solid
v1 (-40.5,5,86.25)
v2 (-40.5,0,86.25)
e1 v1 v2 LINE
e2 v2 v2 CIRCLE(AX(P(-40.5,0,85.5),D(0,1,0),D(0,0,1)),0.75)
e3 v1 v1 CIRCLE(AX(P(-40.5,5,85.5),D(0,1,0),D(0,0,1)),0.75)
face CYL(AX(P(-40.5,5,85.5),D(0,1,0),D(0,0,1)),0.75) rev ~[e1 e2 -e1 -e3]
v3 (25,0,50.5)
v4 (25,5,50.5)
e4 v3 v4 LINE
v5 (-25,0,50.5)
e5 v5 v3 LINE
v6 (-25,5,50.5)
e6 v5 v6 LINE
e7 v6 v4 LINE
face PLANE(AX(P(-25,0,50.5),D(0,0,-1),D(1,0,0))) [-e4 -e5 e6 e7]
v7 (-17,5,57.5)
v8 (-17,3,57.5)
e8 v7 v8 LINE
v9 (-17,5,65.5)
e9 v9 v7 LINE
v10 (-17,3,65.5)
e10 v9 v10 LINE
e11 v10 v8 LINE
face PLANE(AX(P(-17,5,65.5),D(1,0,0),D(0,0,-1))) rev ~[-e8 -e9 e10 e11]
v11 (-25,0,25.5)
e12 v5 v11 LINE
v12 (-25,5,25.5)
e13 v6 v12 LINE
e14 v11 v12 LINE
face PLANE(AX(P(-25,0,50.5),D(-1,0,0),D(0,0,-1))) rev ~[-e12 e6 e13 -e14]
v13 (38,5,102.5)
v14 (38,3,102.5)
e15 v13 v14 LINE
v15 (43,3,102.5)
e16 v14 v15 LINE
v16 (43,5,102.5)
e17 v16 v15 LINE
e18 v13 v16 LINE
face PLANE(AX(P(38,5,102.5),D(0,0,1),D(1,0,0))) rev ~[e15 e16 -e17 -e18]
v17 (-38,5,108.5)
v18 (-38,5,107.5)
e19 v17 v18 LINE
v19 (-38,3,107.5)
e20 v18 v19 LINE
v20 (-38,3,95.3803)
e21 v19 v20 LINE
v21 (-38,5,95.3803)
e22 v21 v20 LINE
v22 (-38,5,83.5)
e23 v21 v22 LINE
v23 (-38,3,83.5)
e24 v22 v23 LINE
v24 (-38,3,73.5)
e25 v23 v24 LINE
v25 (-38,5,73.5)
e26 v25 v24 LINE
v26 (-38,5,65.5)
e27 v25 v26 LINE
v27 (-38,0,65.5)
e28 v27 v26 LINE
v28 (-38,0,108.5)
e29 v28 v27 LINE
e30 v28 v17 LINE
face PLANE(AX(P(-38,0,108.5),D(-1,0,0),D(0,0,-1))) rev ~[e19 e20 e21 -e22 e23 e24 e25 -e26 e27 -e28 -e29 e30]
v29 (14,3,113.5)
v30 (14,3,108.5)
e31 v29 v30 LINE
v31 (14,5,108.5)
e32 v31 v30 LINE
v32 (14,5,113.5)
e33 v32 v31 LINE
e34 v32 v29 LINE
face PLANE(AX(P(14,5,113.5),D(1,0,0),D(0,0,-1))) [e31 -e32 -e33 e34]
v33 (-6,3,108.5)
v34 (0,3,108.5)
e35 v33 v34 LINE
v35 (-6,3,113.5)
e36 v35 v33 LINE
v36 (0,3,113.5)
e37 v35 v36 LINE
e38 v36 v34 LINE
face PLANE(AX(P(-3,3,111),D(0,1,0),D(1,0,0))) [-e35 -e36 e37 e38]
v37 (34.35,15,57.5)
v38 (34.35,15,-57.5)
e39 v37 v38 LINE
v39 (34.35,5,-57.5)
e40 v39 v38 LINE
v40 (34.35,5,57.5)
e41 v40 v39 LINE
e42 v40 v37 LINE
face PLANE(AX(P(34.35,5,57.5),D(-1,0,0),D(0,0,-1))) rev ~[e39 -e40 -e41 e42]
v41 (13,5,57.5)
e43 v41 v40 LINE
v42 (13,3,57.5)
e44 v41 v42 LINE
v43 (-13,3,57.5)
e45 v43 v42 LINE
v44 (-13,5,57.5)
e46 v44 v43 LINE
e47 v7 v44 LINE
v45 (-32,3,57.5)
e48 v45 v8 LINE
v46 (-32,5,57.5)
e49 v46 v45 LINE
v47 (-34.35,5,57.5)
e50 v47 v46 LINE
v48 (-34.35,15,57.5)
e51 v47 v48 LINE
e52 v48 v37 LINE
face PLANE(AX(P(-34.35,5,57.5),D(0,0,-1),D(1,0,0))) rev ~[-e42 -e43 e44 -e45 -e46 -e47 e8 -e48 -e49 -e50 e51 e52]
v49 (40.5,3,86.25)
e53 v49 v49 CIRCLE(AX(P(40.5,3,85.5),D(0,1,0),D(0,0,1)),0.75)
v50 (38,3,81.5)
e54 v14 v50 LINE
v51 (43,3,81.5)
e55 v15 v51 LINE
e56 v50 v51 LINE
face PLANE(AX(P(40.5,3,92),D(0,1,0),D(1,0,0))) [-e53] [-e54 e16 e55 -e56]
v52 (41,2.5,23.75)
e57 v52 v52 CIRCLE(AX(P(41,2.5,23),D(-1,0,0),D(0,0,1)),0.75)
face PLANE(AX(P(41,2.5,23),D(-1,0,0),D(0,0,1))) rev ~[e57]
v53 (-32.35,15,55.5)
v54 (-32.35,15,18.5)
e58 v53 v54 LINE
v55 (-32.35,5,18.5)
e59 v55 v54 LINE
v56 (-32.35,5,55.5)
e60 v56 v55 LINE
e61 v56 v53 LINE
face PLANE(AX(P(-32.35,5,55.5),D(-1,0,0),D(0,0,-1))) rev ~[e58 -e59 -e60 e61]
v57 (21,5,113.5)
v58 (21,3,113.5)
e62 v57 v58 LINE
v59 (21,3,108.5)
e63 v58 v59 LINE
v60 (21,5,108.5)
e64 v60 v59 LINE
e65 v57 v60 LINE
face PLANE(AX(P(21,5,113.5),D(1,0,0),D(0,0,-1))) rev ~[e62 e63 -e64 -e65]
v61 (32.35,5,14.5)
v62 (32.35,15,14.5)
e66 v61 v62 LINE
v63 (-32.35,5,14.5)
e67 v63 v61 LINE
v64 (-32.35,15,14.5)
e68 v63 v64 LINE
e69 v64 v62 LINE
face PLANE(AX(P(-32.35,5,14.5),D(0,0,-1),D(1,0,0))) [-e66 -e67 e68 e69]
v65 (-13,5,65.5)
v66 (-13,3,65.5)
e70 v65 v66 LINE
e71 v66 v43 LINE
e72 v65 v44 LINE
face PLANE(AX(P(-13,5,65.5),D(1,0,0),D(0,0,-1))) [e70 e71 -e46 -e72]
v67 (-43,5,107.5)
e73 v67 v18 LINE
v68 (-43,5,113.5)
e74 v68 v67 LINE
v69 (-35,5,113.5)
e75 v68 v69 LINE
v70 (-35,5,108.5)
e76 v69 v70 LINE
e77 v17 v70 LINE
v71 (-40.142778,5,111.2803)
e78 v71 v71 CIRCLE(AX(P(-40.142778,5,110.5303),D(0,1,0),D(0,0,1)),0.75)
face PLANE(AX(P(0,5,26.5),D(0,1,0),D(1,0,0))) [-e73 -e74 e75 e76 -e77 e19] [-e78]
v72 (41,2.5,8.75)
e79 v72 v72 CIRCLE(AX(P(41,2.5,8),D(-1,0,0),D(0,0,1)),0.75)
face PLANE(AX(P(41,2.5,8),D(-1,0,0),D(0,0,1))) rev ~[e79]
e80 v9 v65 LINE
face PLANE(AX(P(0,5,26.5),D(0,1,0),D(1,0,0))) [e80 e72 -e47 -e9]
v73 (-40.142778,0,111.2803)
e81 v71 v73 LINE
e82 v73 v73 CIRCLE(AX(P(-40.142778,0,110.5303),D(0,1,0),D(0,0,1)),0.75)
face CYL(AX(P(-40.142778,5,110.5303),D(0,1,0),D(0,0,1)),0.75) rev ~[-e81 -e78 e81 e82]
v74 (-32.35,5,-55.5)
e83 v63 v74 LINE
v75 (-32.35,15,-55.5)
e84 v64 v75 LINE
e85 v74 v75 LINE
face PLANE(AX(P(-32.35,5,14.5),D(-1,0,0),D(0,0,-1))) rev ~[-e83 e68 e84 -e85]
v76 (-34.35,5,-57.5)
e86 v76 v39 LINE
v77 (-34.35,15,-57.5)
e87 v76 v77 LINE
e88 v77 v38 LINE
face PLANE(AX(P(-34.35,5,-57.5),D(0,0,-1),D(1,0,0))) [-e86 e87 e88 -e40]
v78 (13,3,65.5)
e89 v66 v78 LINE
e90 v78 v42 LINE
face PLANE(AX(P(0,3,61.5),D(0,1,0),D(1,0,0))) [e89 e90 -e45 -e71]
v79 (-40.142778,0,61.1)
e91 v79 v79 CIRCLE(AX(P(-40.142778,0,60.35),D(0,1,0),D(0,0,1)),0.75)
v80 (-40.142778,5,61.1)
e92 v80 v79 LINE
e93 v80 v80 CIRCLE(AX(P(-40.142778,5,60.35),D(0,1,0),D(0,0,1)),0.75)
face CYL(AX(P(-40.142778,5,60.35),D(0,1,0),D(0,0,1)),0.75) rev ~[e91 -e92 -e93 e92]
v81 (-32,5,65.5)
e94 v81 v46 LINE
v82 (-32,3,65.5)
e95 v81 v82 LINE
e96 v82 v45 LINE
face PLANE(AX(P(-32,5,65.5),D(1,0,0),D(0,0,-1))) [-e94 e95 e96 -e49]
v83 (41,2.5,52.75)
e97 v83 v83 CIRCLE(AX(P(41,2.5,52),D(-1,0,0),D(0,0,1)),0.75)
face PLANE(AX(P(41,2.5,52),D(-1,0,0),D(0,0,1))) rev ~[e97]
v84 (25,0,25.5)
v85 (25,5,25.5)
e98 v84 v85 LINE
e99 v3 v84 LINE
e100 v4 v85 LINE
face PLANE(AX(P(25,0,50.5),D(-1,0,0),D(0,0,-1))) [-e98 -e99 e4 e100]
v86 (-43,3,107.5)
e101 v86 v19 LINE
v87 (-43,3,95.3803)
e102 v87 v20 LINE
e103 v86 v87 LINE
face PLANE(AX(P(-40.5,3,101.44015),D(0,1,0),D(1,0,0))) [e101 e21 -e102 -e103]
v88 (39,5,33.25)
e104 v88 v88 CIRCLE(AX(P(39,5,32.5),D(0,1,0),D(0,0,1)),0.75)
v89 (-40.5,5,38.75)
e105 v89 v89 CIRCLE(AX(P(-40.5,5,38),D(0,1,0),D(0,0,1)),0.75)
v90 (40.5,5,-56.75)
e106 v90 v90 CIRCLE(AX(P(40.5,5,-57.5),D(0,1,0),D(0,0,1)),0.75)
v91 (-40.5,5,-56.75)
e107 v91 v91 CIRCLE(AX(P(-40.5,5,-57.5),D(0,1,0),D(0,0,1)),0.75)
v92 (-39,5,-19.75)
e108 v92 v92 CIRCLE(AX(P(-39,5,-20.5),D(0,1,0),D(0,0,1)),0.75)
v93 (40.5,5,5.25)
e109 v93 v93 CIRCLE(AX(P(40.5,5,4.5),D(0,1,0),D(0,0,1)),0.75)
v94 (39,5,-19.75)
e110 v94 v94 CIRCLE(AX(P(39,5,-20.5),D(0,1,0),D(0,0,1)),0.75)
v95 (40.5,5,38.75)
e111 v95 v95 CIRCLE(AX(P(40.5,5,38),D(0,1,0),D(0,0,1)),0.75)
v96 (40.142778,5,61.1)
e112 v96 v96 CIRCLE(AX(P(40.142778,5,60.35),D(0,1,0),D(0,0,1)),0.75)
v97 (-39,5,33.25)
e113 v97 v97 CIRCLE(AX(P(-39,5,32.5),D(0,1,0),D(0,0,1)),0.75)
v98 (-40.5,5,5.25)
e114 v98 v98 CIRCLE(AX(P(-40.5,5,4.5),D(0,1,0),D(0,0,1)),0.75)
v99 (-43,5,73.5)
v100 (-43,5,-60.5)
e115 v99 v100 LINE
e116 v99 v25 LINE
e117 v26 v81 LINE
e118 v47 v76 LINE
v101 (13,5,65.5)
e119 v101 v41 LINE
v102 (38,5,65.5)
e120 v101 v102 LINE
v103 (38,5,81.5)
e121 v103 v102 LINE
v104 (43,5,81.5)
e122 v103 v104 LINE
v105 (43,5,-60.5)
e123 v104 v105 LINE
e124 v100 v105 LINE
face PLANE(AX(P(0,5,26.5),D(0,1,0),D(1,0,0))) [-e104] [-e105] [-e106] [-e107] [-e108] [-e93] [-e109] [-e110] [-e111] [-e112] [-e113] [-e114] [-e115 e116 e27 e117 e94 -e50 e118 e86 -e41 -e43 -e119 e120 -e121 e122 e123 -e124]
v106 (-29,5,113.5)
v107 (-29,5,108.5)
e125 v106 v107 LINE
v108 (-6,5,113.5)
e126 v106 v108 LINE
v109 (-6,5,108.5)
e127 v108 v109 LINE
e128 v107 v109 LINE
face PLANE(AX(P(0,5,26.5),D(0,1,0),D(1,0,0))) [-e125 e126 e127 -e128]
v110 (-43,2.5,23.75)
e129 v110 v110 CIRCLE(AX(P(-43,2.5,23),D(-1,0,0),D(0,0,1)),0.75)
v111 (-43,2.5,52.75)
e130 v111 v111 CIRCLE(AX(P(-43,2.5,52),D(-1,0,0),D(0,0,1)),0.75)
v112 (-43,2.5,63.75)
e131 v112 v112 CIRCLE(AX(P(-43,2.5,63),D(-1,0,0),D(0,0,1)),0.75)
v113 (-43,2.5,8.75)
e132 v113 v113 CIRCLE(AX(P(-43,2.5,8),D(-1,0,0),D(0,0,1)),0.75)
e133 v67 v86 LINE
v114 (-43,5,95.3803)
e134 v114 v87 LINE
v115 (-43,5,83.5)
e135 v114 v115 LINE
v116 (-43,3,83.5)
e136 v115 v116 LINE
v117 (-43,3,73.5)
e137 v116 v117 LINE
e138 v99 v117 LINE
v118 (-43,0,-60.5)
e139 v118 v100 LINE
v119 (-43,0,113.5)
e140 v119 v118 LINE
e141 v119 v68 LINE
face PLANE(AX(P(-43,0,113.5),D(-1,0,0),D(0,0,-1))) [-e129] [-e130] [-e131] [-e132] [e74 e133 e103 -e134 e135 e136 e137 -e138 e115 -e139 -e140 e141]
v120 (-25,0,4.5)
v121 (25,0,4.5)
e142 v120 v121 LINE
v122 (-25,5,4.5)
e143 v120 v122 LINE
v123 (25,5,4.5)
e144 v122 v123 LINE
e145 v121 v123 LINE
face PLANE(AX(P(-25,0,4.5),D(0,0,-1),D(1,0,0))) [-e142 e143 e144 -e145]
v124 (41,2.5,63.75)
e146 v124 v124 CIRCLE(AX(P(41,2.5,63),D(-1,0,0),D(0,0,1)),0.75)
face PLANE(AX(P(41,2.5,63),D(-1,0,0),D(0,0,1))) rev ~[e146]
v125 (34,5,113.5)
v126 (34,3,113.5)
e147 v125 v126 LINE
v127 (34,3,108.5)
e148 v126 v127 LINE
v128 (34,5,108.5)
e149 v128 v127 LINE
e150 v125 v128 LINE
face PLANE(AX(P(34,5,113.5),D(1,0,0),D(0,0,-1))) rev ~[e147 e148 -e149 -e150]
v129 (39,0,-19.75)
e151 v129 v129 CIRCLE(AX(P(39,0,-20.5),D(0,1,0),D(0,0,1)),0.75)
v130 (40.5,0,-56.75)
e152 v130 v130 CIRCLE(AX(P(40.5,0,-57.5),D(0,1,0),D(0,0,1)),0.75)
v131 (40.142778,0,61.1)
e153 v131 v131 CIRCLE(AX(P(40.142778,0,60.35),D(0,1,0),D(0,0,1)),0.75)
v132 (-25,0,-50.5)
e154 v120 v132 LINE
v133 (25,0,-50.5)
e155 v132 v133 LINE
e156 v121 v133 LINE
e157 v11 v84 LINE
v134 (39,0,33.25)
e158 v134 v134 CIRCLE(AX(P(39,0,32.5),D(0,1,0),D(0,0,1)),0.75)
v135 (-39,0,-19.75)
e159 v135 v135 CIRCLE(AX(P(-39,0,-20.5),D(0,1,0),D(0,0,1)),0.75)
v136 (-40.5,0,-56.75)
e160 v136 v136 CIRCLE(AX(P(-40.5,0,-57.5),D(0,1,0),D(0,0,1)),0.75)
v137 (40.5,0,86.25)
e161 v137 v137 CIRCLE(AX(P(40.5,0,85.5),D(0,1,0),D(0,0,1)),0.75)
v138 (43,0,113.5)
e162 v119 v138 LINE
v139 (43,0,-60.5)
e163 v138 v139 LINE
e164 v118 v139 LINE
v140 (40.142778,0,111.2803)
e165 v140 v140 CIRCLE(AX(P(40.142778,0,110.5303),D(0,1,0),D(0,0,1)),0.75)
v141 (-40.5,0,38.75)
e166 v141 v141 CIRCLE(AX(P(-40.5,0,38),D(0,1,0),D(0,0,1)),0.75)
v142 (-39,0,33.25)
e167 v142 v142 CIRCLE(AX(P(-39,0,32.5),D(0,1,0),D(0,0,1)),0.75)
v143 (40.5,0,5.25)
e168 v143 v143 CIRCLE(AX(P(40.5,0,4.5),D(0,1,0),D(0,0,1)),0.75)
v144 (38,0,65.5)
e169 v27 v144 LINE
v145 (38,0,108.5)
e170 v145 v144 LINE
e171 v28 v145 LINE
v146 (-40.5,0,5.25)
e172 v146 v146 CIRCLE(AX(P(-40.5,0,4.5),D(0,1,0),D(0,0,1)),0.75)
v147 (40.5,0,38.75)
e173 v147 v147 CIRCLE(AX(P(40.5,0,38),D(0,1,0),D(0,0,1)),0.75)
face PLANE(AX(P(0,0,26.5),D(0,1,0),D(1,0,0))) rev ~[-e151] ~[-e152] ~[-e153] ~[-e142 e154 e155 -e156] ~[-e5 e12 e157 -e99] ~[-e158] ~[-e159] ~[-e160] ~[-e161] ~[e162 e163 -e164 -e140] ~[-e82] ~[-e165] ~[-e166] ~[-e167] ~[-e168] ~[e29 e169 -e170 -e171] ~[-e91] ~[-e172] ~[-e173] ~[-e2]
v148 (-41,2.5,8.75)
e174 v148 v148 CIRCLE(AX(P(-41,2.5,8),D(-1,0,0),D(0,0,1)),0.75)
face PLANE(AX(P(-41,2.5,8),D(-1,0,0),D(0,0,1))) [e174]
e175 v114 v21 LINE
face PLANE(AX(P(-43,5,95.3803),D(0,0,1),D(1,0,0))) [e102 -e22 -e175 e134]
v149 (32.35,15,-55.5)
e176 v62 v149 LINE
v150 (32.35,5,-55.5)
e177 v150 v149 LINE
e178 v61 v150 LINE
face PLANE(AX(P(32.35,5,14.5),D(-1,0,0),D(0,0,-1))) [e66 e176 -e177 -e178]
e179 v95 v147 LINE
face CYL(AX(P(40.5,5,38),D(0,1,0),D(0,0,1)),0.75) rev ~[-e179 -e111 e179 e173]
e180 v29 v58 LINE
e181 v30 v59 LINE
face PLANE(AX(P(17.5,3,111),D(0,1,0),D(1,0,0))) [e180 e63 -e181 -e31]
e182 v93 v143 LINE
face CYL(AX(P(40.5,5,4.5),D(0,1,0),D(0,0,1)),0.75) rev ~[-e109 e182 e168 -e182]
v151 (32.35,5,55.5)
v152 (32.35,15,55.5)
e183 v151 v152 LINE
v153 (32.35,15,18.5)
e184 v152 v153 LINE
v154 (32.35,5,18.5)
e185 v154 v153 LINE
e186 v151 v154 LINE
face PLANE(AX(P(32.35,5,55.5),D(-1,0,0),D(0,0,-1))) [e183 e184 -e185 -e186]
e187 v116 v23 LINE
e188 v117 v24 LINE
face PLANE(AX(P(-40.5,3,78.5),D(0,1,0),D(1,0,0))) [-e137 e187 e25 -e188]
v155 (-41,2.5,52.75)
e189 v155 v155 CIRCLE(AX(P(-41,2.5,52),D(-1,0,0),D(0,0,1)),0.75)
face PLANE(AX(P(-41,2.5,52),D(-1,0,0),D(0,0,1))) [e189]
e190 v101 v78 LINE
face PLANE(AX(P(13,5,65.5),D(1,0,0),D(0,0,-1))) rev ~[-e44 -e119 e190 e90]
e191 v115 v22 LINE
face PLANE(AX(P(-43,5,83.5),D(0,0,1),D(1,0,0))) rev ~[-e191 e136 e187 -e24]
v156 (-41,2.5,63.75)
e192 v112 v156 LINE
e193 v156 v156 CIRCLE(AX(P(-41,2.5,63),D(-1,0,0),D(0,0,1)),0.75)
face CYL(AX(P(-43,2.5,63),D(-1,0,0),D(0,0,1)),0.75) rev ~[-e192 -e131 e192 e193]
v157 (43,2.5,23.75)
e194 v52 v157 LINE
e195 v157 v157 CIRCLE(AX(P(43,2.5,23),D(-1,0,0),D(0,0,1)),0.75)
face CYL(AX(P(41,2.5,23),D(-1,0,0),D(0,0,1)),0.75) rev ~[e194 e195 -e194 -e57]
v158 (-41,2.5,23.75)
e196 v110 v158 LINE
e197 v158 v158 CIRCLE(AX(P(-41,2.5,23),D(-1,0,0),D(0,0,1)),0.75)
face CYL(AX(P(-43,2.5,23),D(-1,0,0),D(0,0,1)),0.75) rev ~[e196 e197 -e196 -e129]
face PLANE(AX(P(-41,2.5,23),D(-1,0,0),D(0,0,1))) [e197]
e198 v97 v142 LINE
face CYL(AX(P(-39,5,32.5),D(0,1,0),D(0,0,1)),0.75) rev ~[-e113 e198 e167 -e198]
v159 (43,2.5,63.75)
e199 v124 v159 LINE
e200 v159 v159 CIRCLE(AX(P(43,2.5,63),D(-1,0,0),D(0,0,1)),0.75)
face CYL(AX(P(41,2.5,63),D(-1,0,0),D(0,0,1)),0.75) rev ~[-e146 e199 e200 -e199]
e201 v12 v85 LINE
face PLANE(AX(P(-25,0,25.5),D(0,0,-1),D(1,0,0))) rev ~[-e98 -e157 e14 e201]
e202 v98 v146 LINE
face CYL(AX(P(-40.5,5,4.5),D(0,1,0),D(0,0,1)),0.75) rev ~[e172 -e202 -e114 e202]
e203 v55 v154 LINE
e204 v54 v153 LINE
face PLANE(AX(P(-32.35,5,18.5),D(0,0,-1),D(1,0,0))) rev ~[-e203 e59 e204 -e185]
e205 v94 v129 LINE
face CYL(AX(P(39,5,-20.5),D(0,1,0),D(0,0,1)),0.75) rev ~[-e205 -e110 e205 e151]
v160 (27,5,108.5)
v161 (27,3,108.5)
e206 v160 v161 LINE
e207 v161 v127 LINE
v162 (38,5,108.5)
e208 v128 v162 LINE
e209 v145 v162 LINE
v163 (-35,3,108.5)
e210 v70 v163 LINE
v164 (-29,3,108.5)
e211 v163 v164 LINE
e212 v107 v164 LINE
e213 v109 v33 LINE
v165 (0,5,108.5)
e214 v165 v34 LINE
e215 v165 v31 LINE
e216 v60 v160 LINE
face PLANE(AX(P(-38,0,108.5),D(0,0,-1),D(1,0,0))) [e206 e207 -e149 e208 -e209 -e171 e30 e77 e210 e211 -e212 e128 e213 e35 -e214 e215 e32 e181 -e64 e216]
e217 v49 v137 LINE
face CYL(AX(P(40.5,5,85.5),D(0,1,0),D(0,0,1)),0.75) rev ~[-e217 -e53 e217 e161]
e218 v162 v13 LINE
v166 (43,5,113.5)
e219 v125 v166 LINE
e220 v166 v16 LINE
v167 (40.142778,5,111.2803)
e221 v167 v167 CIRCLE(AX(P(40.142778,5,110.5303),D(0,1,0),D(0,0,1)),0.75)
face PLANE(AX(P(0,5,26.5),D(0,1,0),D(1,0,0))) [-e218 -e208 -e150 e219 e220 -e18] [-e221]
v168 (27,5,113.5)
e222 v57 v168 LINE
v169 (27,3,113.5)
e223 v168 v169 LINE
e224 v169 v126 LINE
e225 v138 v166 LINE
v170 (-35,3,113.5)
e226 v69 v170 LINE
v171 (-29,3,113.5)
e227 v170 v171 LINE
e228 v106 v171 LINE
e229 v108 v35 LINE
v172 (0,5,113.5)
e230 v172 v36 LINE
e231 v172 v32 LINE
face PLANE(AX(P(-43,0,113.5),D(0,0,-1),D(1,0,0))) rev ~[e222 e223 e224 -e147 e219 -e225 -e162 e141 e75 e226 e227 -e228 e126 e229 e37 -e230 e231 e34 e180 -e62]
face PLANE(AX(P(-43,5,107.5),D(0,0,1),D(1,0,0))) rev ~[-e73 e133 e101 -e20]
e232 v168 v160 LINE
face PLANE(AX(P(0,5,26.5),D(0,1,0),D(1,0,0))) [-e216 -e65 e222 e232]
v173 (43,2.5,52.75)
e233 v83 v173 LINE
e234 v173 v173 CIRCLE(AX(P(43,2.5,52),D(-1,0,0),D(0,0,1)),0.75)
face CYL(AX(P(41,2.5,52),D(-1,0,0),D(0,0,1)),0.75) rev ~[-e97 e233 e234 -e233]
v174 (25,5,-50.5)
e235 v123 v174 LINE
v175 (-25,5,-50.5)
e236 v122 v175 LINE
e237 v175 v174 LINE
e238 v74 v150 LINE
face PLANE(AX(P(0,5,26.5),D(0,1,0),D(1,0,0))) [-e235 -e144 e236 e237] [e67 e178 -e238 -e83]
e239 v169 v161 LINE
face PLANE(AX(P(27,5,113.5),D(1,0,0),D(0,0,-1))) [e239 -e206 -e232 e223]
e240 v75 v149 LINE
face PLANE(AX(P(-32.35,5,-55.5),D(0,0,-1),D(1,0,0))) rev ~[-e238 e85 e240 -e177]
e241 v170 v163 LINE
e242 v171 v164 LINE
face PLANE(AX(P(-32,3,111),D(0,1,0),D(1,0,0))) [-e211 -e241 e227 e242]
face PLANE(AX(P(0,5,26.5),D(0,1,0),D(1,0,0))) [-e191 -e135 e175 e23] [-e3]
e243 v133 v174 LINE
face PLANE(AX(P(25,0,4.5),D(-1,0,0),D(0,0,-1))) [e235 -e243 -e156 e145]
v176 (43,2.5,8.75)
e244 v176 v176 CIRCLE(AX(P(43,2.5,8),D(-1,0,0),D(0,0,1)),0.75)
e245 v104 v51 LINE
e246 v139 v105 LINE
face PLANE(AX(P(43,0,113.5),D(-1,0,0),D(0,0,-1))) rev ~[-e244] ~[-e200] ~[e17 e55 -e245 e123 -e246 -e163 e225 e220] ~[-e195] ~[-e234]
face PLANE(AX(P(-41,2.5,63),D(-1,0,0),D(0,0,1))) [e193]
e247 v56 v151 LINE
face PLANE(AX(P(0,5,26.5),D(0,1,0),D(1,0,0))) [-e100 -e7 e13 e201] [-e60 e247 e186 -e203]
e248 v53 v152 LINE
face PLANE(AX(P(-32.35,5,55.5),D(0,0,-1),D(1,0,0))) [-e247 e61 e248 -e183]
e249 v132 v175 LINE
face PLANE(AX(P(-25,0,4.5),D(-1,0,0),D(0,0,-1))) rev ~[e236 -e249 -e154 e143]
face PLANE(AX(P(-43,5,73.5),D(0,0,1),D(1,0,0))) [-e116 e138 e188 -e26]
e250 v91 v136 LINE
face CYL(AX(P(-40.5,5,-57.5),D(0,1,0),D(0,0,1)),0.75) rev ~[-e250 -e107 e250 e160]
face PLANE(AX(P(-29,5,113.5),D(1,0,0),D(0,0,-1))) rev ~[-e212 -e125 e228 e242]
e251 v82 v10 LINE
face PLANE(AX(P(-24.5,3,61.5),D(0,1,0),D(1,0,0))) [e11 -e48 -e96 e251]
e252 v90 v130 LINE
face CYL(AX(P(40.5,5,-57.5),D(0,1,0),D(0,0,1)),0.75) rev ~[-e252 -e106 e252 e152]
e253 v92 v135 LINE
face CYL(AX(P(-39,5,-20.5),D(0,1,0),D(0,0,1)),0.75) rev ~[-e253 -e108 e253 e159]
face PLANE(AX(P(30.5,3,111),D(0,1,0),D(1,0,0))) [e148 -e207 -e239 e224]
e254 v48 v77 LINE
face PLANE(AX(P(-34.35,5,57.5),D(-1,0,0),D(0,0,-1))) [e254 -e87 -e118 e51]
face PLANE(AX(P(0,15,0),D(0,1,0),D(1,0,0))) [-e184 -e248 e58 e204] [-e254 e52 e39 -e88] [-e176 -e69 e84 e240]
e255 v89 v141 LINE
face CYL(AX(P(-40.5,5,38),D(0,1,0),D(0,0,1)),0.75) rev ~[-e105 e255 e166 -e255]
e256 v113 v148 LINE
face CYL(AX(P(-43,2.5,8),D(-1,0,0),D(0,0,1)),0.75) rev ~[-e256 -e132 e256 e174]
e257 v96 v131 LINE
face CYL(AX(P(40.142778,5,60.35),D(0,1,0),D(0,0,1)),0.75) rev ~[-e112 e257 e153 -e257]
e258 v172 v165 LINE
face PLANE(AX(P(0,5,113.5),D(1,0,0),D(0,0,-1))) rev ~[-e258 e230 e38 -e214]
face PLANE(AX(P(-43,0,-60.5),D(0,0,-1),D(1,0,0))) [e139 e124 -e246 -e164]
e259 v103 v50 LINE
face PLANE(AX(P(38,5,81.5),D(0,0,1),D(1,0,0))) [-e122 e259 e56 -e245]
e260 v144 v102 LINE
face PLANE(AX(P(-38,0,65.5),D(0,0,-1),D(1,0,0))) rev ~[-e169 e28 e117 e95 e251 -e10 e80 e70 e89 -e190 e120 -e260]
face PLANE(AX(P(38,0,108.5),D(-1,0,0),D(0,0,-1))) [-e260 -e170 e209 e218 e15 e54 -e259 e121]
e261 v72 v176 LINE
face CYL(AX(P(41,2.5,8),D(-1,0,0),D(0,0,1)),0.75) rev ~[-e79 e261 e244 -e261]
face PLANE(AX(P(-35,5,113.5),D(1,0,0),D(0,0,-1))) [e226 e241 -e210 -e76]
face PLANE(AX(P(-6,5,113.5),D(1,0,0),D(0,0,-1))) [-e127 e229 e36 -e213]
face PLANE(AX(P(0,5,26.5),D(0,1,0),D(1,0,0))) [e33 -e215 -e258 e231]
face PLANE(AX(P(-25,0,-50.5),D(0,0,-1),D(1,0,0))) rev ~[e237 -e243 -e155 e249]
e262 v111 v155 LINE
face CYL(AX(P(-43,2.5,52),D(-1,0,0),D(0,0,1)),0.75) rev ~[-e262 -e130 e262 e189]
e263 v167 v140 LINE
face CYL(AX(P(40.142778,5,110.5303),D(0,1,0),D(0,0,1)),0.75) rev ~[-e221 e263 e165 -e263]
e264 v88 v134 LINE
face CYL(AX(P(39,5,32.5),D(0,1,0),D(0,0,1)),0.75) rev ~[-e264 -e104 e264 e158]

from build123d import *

# Parameters (mm, degrees)
SKETCH_1_W          = 86
SKETCH_1_H          = 174
SKETCH_1_W_2        = 50
SKETCH_1_H_2        = 25
SKETCH_1_H_3        = 55
SKETCH_1_W_3        = 76
SKETCH_1_H_4        = 43
EXTRUDE_1_DEPTH     = 5
SKETCH_4_W          = 68.7
SKETCH_4_H          = 115
SKETCH_4_W_2        = 64.7
SKETCH_4_H_2        = 37
SKETCH_4_H_3        = 70
EXTRUDE_2_DEPTH     = 10
SKETCH_5_R          = 0.75
CUT_EXTRUDE_1_DEPTH = 122.783619588
SKETCH_7_W          = 15
SKETCH_7_H          = 8
SKETCH_7_W_2        = 26
SKETCH_7_W_3        = 5
SKETCH_7_H_2        = 10
SKETCH_7_H_3        = 12.119700025
SKETCH_7_W_4        = 6
SKETCH_7_H_4        = 5
SKETCH_7_W_5        = 7
SKETCH_7_H_5        = 21
CUT_EXTRUDE_2_DEPTH = 2
SKETCH_8_R          = 0.75
CUT_EXTRUDE_3_DEPTH = 2
CUT_EXTRUDE_START   = -84
SKETCH_8_3_R        = 0.75
CUT_EXTRUDE_4_DEPTH = 2


with BuildPart() as part:
    # 草图1 → 凸台-拉伸1 (new body)
    with BuildSketch(Plane(origin=(0, 0, 0), x_dir=(1, 0, 0), z_dir=(0, 1, 0))):
        with Locations((0, -26.5)):
            Rectangle(SKETCH_1_W, SKETCH_1_H)
        with Locations((0, -38)):
            Rectangle(SKETCH_1_W_2, SKETCH_1_H_2, mode=Mode.SUBTRACT)
        with Locations((0, 23)):
            Rectangle(SKETCH_1_W_2, SKETCH_1_H_3, mode=Mode.SUBTRACT)
        with Locations((0, -87)):
            Rectangle(SKETCH_1_W_3, SKETCH_1_H_4, mode=Mode.SUBTRACT)
    extrude(amount=EXTRUDE_1_DEPTH)

    # 草图4 → 凸台-拉伸2 (add)
    with BuildSketch(Plane(origin=(0, 5, 0), x_dir=(1, 0, 0), z_dir=(0, 1, 0))):
        Rectangle(SKETCH_4_W, SKETCH_4_H)
        with Locations((0, -37)):
            Rectangle(SKETCH_4_W_2, SKETCH_4_H_2, mode=Mode.SUBTRACT)
        with Locations((0, 20.5)):
            Rectangle(SKETCH_4_W_2, SKETCH_4_H_3, mode=Mode.SUBTRACT)
    extrude(amount=EXTRUDE_2_DEPTH)

    # 草图5 → 切除-拉伸1 (cut, through all)
    with BuildSketch(Plane(origin=(0, 5, 0), x_dir=(1, 0, 0), z_dir=(0, 1, 0))):
        with Locations(Location((-39, 20.5, 0), (0, 0, 270))):
            Circle(SKETCH_5_R)
        with Locations(Location((39, 20.5, 0), (0, 0, 270))):
            Circle(SKETCH_5_R)
        with Locations(Location((-39, -32.5, 0), (0, 0, 270))):
            Circle(SKETCH_5_R)
        with Locations(Location((39, -32.5, 0), (0, 0, 270))):
            Circle(SKETCH_5_R)
        with Locations(Location((-40.1427775, -60.35, 0), (0, 0, 270))):
            Circle(SKETCH_5_R)
        with Locations(Location((40.1427775, -60.35, 0), (0, 0, 270))):
            Circle(SKETCH_5_R)
        with Locations(Location((-40.1427775, -110.530299975, 0), (0, 0, 270))):
            Circle(SKETCH_5_R)
        with Locations(Location((40.1427775, -110.530299975, 0), (0, 0, 270))):
            Circle(SKETCH_5_R)
        with Locations(Location((-40.5, 57.5, 0), (0, 0, 270))):
            Circle(SKETCH_5_R)
        with Locations(Location((-40.5, -38, 0), (0, 0, 270))):
            Circle(SKETCH_5_R)
        with Locations(Location((-40.5, -85.5, 0), (0, 0, 270))):
            Circle(SKETCH_5_R)
        with Locations(Location((40.5, 57.5, 0), (0, 0, 270))):
            Circle(SKETCH_5_R)
        with Locations(Location((40.5, -38, 0), (0, 0, 270))):
            Circle(SKETCH_5_R)
        with Locations(Location((40.5, -85.5, 0), (0, 0, 270))):
            Circle(SKETCH_5_R)
        with Locations(Location((-40.5, -4.5, 0), (0, 0, 270))):
            Circle(SKETCH_5_R)
        with Locations(Location((40.5, -4.5, 0), (0, 0, 270))):
            Circle(SKETCH_5_R)
    extrude(amount=-CUT_EXTRUDE_1_DEPTH, mode=Mode.SUBTRACT)

    # 草图7 → 切除-拉伸2 (cut)
    with BuildSketch(Plane(origin=(0, 5, 0), x_dir=(1, 0, 0), z_dir=(0, 1, 0))):
        with Locations((-24.5, -61.5)):
            Rectangle(SKETCH_7_W, SKETCH_7_H)
        with Locations((0, -61.5)):
            Rectangle(SKETCH_7_W_2, SKETCH_7_H)
        with Locations((-40.5, -78.5)):
            Rectangle(SKETCH_7_W_3, SKETCH_7_H_2)
        with Locations((-40.5, -101.440149988)):
            Rectangle(SKETCH_7_W_3, SKETCH_7_H_3)
        with Locations((-32, -111)):
            Rectangle(SKETCH_7_W_4, SKETCH_7_H_4)
        with Locations((-3, -111)):
            Rectangle(SKETCH_7_W_4, SKETCH_7_H_4)
        with Locations((17.5, -111)):
            Rectangle(SKETCH_7_W_5, SKETCH_7_H_4)
        with Locations((30.5, -111)):
            Rectangle(SKETCH_7_W_5, SKETCH_7_H_4)
        with Locations((40.5, -92)):
            Rectangle(SKETCH_7_W_3, SKETCH_7_H_5)
    extrude(amount=-CUT_EXTRUDE_2_DEPTH, mode=Mode.SUBTRACT)

    # 草图8 → 切除-拉伸3 (cut)
    with BuildSketch(Plane.ZY.offset(43)):
        with Locations((8, 2.5)):
            Circle(SKETCH_8_R)
        with Locations((23, 2.5)):
            Circle(SKETCH_8_R)
        with Locations((52, 2.5)):
            Circle(SKETCH_8_R)
        with Locations((63, 2.5)):
            Circle(SKETCH_8_R)
    extrude(amount=-CUT_EXTRUDE_3_DEPTH, mode=Mode.SUBTRACT)

    # 草图8<3> → 切除-拉伸4 (cut)
    with BuildSketch(Plane.ZY.offset(43).offset(CUT_EXTRUDE_START)):
        with Locations((8, 2.5)):
            Circle(SKETCH_8_3_R)
        with Locations((23, 2.5)):
            Circle(SKETCH_8_3_R)
        with Locations((52, 2.5)):
            Circle(SKETCH_8_3_R)
        with Locations((63, 2.5)):
            Circle(SKETCH_8_3_R)
    extrude(amount=-CUT_EXTRUDE_4_DEPTH, mode=Mode.SUBTRACT)


solid = part.part
